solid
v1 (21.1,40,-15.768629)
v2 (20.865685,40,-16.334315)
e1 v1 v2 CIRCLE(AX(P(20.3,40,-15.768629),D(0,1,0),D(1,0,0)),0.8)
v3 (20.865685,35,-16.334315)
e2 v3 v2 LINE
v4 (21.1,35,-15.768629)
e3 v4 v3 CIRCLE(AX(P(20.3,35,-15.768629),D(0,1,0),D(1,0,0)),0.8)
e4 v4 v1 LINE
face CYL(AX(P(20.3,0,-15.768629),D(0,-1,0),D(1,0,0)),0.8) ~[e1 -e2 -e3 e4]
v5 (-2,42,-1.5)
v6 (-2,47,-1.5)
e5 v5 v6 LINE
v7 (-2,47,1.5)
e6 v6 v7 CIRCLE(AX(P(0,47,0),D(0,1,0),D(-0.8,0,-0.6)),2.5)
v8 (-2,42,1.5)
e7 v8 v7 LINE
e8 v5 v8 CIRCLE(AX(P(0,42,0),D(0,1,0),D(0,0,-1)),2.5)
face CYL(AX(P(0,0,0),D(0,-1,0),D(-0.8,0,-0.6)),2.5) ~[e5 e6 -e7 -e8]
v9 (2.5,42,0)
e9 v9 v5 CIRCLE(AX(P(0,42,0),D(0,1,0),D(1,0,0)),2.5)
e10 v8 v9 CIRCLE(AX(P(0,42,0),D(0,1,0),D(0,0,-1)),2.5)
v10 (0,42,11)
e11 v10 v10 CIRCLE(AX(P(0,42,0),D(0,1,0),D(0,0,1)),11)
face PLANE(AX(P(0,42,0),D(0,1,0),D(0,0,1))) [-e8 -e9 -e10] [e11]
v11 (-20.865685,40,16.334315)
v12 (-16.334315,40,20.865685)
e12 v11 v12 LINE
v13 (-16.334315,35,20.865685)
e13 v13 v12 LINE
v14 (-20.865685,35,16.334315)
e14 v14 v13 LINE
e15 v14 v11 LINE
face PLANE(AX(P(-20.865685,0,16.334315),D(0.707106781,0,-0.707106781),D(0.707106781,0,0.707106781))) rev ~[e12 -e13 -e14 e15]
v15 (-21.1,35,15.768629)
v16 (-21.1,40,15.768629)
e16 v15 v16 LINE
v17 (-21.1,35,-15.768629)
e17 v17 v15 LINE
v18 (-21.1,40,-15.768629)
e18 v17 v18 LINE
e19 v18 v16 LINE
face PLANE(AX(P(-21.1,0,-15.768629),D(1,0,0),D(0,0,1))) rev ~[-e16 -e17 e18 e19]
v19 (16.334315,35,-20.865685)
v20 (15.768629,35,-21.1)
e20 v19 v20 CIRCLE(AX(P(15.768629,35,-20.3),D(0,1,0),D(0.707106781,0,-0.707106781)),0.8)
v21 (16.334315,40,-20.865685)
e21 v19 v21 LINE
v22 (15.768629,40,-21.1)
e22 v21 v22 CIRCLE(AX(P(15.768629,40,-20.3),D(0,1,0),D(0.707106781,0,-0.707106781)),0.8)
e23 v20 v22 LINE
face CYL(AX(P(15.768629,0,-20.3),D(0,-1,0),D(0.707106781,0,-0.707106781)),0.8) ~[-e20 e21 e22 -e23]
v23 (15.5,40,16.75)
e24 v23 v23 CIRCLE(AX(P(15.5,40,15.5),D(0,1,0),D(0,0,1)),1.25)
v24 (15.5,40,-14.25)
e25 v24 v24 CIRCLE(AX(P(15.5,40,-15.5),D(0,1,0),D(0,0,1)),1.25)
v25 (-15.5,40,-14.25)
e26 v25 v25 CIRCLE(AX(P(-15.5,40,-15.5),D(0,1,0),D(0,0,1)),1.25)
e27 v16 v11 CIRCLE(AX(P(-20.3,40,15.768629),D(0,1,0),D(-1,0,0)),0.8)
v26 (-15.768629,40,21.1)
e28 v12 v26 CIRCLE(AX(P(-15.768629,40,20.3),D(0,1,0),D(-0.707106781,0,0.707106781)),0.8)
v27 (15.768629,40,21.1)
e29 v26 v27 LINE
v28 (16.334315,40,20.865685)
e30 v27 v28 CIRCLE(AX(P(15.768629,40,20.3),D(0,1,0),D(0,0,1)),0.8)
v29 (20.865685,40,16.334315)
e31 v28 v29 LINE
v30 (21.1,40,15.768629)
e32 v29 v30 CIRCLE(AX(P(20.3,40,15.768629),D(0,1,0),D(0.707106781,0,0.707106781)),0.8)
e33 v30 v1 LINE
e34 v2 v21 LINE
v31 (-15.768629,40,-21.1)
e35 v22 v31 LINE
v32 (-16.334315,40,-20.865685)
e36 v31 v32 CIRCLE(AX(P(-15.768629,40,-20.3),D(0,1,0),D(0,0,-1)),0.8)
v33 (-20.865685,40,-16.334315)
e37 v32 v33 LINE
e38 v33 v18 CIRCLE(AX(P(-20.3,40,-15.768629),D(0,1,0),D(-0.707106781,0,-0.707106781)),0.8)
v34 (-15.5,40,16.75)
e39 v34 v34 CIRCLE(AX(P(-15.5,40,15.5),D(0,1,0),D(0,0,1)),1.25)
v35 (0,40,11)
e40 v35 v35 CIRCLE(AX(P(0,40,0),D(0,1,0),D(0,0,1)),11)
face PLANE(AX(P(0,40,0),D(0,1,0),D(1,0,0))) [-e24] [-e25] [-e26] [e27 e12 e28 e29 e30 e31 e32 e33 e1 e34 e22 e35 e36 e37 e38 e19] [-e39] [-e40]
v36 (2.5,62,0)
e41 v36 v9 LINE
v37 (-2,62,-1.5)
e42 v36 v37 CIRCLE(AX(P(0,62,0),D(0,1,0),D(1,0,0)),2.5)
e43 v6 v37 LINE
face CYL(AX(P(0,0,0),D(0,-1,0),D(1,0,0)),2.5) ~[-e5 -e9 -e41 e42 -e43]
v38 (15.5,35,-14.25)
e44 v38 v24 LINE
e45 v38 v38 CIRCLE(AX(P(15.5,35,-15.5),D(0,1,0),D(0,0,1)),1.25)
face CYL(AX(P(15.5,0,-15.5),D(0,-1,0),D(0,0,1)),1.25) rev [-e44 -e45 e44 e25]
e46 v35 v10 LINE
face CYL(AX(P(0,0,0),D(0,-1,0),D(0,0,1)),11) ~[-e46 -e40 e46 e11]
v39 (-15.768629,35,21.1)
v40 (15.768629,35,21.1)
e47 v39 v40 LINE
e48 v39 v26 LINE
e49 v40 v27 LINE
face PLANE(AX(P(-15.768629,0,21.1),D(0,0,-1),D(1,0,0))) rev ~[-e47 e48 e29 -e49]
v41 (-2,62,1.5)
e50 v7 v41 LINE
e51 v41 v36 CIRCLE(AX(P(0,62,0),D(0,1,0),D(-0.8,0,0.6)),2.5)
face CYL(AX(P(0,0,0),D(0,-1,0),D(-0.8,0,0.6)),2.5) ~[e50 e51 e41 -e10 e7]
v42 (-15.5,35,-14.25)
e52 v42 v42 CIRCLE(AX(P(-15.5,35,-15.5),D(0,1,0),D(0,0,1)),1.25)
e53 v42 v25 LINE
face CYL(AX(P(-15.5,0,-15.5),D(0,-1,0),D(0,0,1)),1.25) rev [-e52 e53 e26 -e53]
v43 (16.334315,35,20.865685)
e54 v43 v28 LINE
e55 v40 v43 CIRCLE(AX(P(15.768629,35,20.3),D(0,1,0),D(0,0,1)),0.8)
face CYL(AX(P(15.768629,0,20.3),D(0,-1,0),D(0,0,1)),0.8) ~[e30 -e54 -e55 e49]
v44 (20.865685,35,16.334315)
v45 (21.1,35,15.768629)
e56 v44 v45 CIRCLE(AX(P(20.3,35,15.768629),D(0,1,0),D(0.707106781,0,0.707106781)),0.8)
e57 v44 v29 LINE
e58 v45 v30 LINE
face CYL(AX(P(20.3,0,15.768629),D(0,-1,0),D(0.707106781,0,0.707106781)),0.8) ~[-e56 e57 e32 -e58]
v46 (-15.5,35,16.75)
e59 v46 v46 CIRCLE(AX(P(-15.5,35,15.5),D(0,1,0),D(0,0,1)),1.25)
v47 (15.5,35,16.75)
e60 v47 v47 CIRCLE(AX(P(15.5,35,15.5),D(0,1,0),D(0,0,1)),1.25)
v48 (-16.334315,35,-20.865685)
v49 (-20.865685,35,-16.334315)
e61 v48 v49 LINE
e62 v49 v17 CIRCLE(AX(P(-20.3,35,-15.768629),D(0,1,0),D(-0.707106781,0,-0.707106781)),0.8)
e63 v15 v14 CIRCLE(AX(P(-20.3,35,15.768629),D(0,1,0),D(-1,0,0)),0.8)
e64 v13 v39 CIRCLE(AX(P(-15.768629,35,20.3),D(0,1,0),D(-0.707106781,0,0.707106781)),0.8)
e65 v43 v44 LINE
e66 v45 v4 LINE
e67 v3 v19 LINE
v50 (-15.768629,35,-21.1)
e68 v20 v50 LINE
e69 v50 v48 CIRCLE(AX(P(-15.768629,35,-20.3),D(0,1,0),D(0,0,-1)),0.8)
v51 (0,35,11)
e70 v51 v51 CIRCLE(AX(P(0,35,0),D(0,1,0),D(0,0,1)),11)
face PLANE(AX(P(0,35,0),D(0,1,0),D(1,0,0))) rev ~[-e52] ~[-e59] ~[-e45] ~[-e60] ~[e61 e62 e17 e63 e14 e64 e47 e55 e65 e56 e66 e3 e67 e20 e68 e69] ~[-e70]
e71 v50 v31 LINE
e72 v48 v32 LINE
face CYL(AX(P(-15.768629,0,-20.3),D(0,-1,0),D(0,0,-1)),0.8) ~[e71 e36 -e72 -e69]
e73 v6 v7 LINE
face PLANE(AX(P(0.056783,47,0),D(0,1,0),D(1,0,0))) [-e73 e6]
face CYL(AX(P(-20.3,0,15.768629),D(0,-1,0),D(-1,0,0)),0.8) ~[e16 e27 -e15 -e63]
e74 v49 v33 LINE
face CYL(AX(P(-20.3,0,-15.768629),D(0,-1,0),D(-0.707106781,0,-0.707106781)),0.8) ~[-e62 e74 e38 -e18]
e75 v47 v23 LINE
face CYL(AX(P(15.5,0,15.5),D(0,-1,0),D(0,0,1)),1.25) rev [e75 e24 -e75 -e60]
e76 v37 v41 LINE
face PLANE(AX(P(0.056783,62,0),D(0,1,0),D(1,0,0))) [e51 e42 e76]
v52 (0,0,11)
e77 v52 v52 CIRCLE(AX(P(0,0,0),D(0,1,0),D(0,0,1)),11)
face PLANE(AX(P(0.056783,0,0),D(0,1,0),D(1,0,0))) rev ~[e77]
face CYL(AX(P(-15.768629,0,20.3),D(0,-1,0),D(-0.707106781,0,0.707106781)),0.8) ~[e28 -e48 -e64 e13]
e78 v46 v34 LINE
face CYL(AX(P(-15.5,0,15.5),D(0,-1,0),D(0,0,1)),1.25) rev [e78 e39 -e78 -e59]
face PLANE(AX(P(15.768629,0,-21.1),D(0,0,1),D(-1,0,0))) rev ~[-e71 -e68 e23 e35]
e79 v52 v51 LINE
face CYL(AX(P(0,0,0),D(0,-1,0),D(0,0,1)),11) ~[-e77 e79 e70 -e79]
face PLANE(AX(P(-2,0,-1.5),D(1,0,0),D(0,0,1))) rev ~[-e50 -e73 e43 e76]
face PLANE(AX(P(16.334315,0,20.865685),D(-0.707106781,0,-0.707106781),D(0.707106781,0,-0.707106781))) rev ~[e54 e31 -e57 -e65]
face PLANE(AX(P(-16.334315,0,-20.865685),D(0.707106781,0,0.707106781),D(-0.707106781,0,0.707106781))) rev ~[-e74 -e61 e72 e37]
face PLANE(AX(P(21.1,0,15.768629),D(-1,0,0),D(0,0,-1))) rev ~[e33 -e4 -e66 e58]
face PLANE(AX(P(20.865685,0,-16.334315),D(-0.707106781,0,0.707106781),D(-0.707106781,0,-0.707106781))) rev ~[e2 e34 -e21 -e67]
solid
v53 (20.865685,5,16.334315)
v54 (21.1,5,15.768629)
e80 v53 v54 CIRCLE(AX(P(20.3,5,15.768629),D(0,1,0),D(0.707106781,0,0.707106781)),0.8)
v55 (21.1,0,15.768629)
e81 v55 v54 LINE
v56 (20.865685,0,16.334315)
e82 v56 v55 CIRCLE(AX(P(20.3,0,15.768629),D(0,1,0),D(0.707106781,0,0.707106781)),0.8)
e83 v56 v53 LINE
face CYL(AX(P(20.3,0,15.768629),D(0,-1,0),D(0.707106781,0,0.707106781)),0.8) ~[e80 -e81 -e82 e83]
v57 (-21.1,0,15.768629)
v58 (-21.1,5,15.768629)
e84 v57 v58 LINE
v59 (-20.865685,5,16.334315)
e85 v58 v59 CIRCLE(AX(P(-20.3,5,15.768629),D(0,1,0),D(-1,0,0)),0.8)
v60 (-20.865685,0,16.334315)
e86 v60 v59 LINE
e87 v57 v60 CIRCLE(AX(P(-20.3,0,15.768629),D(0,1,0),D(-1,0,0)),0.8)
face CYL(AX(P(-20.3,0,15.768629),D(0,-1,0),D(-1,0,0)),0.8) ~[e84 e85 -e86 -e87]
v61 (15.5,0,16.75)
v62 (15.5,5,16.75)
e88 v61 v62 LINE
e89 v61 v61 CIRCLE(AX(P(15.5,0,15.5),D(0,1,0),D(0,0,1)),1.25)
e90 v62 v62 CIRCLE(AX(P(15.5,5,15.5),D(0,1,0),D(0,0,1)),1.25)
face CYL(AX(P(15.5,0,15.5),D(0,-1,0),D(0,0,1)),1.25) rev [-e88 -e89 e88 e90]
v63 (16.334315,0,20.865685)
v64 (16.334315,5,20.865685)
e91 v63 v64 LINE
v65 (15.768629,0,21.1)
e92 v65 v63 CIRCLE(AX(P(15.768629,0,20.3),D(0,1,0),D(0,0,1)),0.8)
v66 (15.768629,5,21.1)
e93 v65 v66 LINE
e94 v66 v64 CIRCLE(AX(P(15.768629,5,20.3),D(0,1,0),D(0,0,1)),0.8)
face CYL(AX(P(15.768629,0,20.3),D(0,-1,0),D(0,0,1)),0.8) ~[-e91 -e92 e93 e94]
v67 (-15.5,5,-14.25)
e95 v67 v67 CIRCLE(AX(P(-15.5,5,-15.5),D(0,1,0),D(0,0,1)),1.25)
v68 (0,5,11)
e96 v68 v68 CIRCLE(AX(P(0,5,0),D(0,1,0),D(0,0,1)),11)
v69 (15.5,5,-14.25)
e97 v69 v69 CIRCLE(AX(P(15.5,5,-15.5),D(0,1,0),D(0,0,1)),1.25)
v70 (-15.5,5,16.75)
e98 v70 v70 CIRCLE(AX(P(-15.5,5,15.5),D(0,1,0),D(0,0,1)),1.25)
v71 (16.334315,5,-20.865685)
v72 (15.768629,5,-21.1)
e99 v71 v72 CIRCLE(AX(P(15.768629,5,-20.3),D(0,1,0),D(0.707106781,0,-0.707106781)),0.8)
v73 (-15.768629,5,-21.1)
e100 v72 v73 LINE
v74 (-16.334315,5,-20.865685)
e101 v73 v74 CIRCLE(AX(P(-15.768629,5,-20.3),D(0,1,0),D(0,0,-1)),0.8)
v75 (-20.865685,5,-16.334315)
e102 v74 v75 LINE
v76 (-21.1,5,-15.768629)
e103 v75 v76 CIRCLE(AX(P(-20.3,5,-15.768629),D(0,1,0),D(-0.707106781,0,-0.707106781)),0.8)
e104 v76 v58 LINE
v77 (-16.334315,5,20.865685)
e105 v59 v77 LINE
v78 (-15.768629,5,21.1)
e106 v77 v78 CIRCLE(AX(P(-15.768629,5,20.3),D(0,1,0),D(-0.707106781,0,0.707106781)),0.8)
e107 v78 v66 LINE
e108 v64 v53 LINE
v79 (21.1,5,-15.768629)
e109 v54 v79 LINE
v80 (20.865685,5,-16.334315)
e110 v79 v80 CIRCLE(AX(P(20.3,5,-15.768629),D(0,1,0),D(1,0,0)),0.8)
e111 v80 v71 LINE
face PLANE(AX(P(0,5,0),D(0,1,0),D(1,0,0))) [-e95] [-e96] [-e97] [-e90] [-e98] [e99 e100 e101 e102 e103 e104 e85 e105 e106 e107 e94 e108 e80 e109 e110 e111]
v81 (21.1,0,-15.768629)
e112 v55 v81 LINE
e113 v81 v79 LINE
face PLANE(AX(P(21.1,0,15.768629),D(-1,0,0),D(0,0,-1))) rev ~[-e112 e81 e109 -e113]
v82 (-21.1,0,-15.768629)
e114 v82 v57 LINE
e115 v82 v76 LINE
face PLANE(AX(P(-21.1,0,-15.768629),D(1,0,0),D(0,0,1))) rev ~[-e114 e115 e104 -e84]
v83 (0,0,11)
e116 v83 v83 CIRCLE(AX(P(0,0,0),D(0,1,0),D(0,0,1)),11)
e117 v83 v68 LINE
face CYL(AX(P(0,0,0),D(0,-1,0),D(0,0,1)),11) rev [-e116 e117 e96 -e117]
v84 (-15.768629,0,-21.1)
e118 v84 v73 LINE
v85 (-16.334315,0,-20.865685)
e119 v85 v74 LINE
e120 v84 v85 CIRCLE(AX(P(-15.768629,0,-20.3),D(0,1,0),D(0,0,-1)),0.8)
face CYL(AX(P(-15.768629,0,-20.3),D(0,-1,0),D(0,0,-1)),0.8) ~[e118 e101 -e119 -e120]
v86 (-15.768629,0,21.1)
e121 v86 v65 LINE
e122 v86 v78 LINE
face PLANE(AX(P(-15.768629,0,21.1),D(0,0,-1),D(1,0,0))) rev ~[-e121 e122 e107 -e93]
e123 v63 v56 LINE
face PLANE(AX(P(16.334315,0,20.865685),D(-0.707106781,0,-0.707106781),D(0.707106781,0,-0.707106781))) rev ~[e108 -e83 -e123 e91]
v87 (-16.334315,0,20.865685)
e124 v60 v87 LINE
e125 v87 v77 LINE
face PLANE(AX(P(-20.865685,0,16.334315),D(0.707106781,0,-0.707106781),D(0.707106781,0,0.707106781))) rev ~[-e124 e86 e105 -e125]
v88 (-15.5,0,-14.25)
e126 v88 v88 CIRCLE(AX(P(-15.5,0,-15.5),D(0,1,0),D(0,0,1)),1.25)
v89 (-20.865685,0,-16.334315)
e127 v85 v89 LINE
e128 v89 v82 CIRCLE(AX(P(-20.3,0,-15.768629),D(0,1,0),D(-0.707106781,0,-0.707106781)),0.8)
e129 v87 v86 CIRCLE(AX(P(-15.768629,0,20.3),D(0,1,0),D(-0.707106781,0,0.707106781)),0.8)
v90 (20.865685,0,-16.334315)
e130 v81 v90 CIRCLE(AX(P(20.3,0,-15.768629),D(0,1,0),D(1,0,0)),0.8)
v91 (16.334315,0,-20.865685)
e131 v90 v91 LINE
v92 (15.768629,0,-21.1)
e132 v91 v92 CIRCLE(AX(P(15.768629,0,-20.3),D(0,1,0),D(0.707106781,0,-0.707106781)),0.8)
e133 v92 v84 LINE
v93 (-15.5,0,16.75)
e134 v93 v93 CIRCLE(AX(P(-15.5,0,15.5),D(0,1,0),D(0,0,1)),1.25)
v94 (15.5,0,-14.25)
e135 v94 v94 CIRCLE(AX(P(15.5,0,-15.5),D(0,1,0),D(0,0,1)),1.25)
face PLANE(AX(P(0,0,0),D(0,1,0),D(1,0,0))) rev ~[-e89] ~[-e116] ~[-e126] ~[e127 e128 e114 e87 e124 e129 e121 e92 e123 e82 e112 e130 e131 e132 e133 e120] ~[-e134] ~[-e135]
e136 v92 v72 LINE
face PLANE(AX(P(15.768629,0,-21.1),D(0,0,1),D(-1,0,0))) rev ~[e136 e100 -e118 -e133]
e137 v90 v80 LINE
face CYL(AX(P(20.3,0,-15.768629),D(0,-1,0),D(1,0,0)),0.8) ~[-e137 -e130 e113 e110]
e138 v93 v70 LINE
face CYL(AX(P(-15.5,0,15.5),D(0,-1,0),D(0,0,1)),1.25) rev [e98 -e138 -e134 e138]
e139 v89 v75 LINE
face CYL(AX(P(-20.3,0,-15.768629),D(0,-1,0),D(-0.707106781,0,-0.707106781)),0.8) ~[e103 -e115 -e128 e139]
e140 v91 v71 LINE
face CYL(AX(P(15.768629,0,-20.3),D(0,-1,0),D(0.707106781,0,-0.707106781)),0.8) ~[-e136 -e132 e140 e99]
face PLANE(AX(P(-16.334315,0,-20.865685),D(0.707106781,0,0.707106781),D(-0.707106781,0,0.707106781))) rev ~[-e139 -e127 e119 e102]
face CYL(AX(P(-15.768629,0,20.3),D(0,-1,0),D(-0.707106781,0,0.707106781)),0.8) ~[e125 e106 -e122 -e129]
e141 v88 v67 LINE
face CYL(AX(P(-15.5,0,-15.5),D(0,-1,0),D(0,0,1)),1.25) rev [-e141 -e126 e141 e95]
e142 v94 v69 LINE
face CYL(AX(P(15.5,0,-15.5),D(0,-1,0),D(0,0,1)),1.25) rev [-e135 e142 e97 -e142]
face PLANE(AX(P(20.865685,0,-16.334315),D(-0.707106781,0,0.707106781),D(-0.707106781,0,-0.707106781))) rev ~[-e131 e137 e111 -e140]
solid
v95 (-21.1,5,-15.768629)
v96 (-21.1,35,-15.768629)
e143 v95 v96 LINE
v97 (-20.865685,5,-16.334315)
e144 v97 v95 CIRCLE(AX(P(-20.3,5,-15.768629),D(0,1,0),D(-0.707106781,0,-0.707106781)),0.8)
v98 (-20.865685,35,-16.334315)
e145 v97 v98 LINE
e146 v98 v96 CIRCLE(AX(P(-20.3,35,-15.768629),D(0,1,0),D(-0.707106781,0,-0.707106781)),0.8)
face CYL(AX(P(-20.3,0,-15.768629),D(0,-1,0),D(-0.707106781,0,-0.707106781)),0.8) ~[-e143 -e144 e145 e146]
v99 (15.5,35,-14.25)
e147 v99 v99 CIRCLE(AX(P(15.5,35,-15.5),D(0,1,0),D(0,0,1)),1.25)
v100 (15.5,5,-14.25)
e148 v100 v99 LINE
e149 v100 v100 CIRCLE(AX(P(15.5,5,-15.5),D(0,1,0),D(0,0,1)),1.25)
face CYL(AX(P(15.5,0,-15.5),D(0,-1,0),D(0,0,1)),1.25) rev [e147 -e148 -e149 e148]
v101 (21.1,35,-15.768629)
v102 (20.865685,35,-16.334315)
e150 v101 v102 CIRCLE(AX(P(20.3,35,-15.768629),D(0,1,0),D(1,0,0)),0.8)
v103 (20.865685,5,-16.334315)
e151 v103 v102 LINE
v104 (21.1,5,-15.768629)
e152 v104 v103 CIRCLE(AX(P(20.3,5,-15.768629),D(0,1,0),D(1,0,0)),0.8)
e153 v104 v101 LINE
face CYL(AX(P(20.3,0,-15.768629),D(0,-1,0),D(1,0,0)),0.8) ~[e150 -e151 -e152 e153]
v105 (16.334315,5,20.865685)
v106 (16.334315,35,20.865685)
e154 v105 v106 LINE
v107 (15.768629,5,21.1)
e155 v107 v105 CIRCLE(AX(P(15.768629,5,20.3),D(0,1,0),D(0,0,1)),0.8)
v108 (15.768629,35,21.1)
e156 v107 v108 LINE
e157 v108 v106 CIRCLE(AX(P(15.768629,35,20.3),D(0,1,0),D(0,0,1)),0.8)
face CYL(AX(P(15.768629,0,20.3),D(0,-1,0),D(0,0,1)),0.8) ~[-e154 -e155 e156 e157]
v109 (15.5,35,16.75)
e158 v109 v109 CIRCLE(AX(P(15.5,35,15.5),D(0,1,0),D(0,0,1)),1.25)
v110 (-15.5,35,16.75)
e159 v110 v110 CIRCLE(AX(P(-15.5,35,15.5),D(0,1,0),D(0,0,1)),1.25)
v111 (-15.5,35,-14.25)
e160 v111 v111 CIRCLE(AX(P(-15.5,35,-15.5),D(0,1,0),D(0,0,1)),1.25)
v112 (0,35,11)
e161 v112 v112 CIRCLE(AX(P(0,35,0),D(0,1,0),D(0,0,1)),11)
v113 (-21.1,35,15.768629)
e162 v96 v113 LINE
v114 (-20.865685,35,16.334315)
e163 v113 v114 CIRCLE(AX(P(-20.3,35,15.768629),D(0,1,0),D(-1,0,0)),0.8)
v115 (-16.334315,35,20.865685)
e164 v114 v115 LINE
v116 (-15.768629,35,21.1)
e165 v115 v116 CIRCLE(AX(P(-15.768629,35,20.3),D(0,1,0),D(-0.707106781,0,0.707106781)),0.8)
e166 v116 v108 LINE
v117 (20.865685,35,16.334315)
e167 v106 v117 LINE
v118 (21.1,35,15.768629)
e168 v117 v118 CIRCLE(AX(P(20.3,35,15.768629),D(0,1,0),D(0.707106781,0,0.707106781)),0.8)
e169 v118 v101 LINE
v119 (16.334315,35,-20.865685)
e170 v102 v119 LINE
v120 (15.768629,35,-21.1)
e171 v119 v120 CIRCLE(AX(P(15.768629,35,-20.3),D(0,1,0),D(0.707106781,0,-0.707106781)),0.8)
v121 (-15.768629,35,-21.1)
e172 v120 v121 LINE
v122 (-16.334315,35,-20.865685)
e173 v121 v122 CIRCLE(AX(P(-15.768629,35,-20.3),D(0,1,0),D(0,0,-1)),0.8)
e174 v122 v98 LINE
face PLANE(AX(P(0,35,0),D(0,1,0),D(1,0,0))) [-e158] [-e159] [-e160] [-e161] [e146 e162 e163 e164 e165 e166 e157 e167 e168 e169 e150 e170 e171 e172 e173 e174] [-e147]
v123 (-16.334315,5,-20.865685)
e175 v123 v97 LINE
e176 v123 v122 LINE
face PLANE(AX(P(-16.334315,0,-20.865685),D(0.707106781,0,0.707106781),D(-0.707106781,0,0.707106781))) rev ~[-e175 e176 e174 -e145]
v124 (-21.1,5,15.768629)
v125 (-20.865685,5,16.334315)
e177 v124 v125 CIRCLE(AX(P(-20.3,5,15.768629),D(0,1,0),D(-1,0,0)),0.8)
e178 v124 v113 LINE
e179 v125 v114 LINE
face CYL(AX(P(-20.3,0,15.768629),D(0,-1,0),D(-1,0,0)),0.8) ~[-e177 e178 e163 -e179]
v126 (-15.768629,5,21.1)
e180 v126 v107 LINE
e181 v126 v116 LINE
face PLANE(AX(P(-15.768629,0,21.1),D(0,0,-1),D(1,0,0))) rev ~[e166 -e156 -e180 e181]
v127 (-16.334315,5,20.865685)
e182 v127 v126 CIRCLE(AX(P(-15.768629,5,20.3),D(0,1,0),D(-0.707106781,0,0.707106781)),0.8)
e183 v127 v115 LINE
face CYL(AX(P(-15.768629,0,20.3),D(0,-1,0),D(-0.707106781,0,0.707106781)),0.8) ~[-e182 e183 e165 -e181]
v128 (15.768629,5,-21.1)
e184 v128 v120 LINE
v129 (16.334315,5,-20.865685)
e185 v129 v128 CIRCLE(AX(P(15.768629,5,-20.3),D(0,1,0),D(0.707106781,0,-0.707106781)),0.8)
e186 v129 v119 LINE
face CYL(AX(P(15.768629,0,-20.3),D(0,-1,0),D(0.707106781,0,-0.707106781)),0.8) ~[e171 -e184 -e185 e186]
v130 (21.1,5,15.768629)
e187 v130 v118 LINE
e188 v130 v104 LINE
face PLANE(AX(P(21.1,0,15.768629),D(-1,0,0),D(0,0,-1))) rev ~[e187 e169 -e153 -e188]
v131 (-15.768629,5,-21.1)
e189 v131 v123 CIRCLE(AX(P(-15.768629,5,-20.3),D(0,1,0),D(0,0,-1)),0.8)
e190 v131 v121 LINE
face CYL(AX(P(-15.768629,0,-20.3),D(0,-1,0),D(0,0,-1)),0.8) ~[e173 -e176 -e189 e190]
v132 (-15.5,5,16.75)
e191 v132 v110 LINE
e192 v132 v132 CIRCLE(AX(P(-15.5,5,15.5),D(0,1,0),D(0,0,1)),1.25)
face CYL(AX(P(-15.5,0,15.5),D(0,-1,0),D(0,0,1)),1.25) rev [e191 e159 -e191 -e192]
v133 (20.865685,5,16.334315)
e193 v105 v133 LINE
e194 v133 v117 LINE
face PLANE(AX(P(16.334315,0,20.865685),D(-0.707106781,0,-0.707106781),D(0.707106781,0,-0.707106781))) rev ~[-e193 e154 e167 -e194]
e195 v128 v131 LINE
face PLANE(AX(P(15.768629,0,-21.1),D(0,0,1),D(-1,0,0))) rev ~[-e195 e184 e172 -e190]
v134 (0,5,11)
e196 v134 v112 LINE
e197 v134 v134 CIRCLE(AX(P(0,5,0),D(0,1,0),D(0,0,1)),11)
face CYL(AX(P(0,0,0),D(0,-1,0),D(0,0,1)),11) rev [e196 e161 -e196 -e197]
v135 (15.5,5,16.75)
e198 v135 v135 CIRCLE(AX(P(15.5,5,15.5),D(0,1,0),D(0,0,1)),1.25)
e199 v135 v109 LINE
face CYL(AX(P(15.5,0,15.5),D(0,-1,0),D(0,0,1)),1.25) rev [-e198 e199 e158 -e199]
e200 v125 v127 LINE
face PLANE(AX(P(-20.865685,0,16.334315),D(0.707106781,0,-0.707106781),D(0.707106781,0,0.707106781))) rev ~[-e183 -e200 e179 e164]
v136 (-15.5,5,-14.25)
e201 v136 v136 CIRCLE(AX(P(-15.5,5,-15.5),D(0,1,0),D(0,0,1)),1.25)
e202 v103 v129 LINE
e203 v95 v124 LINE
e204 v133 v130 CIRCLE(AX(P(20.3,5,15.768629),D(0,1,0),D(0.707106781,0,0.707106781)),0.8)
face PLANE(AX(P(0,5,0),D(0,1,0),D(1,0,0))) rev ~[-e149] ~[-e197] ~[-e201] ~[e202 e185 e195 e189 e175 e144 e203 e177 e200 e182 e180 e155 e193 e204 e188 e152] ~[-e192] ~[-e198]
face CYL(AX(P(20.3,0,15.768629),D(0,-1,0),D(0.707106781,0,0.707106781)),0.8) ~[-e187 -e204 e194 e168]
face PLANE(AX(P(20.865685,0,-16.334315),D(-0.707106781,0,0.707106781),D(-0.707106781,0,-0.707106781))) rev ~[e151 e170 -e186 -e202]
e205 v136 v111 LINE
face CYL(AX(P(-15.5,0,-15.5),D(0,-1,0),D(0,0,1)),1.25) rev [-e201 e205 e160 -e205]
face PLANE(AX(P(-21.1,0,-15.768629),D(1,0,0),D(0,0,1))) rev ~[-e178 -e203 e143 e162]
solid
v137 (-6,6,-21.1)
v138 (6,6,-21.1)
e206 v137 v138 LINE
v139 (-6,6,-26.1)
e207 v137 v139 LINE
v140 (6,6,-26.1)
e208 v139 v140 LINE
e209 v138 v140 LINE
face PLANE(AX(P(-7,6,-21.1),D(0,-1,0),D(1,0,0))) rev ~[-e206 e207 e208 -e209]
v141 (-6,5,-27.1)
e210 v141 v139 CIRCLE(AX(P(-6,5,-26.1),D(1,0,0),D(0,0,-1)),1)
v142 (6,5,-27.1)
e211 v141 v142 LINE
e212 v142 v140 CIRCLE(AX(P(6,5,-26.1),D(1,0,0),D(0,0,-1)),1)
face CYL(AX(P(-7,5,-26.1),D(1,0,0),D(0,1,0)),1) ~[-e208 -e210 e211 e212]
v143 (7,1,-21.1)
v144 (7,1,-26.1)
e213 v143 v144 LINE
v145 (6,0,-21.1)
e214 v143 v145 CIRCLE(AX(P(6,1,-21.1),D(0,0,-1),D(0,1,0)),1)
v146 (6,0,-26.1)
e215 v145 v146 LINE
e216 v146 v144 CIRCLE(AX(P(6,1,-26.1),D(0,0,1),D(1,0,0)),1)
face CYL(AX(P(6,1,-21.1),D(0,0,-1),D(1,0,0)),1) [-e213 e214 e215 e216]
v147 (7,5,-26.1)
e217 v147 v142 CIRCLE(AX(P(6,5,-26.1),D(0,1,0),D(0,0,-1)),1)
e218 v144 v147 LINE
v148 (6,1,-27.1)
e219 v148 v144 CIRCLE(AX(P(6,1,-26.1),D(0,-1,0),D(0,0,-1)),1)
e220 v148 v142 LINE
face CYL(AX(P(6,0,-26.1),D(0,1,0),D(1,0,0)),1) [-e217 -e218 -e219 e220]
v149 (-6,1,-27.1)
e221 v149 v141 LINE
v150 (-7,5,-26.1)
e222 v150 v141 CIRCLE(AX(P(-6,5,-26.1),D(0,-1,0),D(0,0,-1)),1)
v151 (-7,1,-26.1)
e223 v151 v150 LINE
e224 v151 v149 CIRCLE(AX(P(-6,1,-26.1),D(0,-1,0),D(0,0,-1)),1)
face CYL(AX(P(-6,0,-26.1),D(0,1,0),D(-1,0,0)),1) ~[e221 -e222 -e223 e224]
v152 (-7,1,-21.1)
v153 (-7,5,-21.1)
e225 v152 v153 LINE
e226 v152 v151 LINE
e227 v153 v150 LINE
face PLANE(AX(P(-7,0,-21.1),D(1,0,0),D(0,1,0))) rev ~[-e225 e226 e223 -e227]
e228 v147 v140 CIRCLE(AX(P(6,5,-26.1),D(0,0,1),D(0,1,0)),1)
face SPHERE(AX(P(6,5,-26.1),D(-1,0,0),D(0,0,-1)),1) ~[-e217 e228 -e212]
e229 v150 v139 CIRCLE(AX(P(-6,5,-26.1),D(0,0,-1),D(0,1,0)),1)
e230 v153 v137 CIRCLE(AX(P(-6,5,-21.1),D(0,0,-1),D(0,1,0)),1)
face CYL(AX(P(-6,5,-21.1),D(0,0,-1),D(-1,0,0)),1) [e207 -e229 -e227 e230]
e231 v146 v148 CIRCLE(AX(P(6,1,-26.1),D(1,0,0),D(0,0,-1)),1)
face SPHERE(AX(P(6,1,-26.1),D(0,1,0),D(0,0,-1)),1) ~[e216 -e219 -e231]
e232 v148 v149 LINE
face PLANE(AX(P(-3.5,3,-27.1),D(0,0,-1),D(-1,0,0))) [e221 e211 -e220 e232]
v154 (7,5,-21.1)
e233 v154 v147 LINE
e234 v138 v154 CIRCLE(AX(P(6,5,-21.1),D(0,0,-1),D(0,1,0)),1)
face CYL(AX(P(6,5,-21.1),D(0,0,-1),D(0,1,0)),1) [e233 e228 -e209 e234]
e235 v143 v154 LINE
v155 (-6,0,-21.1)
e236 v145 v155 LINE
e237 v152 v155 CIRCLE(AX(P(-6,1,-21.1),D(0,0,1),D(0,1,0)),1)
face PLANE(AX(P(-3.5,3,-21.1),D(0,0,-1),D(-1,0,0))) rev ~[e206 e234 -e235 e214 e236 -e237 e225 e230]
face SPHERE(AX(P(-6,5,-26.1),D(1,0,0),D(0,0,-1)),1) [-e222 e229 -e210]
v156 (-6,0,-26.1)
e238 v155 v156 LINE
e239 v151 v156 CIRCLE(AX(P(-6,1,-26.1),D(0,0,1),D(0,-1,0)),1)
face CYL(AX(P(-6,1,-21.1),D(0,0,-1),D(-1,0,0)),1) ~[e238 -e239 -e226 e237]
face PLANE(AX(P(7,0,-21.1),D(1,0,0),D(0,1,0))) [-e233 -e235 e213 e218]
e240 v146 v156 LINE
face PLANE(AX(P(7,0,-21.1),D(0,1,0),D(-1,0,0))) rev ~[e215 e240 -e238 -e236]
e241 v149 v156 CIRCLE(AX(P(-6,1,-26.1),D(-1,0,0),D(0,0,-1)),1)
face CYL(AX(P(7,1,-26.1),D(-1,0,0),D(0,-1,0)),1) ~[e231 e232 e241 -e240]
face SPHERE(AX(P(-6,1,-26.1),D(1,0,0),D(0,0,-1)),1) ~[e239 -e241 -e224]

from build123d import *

# Parameters (mm, degrees)
SKETCH_1_R          = 1.25
SKETCH_1_R_2        = 11
EXTRUDE_1_DEPTH     = 40
SKETCH_1_6_R        = 1.25
SKETCH_1_6_R_2      = 11
CUT_EXTRUDE_1_DEPTH = 35
SKETCH_1_7_R        = 1.25
SKETCH_1_7_R_2      = 11
EXTRUDE_6_DEPTH     = 35
SKETCH_1_8_R        = 1.25
SKETCH_1_8_R_2      = 11
CUT_EXTRUDE_2_DEPTH = 5
SKETCH_1_9_R        = 1.25
SKETCH_1_9_R_2      = 11
EXTRUDE_7_DEPTH     = 5
SKETCH_1_3_R        = 11
EXTRUDE_2_DEPTH     = 42
EXTRUDE_3_DEPTH     = 62
EXTRUDE_4_DEPTH     = 47
SKETCH_2_W          = 14
SKETCH_2_H          = 6
EXTRUDE_5_DEPTH     = 6
FILLET_1_R          = 1


with BuildPart() as part:
    # 草图1 → 凸台-拉伸1 (new body)
    with BuildSketch(Plane(origin=(0, 0, 0), x_dir=(1, 0, 0), z_dir=(0, 1, 0))):
        with BuildLine():
            ThreePointArc((-16.334314575, -20.865685425), (-16.074775896, -21.039103626), (-15.76862915, -21.1))
            Line((-15.76862915, -21.1), (15.76862915, -21.1))
            ThreePointArc((15.76862915, -21.1), (16.074775896, -21.039103626), (16.334314575, -20.865685425))
            Line((16.334314575, -20.865685425), (20.865685425, -16.334314575))
            ThreePointArc((20.865685425, -16.334314575), (21.039103626, -16.074775896), (21.1, -15.76862915))
            Line((21.1, -15.76862915), (21.1, 15.76862915))
            ThreePointArc((21.1, 15.76862915), (21.039103626, 16.074775896), (20.865685425, 16.334314575))
            Line((20.865685425, 16.334314575), (16.334314575, 20.865685425))
            ThreePointArc((16.334314575, 20.865685425), (16.074775896, 21.039103626), (15.76862915, 21.1))
            Line((15.76862915, 21.1), (-15.76862915, 21.1))
            ThreePointArc((-15.76862915, 21.1), (-16.074775896, 21.039103626), (-16.334314575, 20.865685425))
            Line((-16.334314575, 20.865685425), (-20.865685425, 16.334314575))
            ThreePointArc((-20.865685425, 16.334314575), (-21.039103626, 16.074775896), (-21.1, 15.76862915))
            Line((-21.1, 15.76862915), (-21.1, -15.76862915))
            ThreePointArc((-21.1, -15.76862915), (-21.039103626, -16.074775896), (-20.865685425, -16.334314575))
            Line((-20.865685425, -16.334314575), (-16.334314575, -20.865685425))
        make_face()
        with Locations((-15.5, -15.5)):
            Circle(SKETCH_1_R, mode=Mode.SUBTRACT)
        with Locations((15.5, -15.5)):
            Circle(SKETCH_1_R, mode=Mode.SUBTRACT)
        with Locations((-15.5, 15.5)):
            Circle(SKETCH_1_R, mode=Mode.SUBTRACT)
        Circle(SKETCH_1_R_2, mode=Mode.SUBTRACT)
        with Locations((15.5, 15.5)):
            Circle(SKETCH_1_R, mode=Mode.SUBTRACT)
    extrude(amount=EXTRUDE_1_DEPTH)

    # 草图1<6> → 切除-拉伸1 (cut)
    with BuildSketch(Plane(origin=(0, 0, 0), x_dir=(1, 0, 0), z_dir=(0, 1, 0))):
        with BuildLine():
            ThreePointArc((-16.334314575, -20.865685425), (-16.074775896, -21.039103626), (-15.76862915, -21.1))
            Line((-15.76862915, -21.1), (15.76862915, -21.1))
            ThreePointArc((15.76862915, -21.1), (16.074775896, -21.039103626), (16.334314575, -20.865685425))
            Line((16.334314575, -20.865685425), (20.865685425, -16.334314575))
            ThreePointArc((20.865685425, -16.334314575), (21.039103626, -16.074775896), (21.1, -15.76862915))
            Line((21.1, -15.76862915), (21.1, 15.76862915))
            ThreePointArc((21.1, 15.76862915), (21.039103626, 16.074775896), (20.865685425, 16.334314575))
            Line((20.865685425, 16.334314575), (16.334314575, 20.865685425))
            ThreePointArc((16.334314575, 20.865685425), (16.074775896, 21.039103626), (15.76862915, 21.1))
            Line((15.76862915, 21.1), (-15.76862915, 21.1))
            ThreePointArc((-15.76862915, 21.1), (-16.074775896, 21.039103626), (-16.334314575, 20.865685425))
            Line((-16.334314575, 20.865685425), (-20.865685425, 16.334314575))
            ThreePointArc((-20.865685425, 16.334314575), (-21.039103626, 16.074775896), (-21.1, 15.76862915))
            Line((-21.1, 15.76862915), (-21.1, -15.76862915))
            ThreePointArc((-21.1, -15.76862915), (-21.039103626, -16.074775896), (-20.865685425, -16.334314575))
            Line((-20.865685425, -16.334314575), (-16.334314575, -20.865685425))
        make_face()
        with Locations((-15.5, -15.5)):
            Circle(SKETCH_1_6_R, mode=Mode.SUBTRACT)
        with Locations((15.5, -15.5)):
            Circle(SKETCH_1_6_R, mode=Mode.SUBTRACT)
        with Locations((-15.5, 15.5)):
            Circle(SKETCH_1_6_R, mode=Mode.SUBTRACT)
        Circle(SKETCH_1_6_R_2, mode=Mode.SUBTRACT)
        with Locations((15.5, 15.5)):
            Circle(SKETCH_1_6_R, mode=Mode.SUBTRACT)
    extrude(amount=CUT_EXTRUDE_1_DEPTH, mode=Mode.SUBTRACT)

    # 草图1<3> → 凸台-拉伸2 (add)
    with BuildSketch(Plane(origin=(0, 0, 0), x_dir=(1, 0, 0), z_dir=(0, 1, 0))):
        Circle(SKETCH_1_3_R)
        with BuildLine():
            ThreePointArc((-2, -1.5), (-2.5, 0), (-2, 1.5))
            ThreePointArc((-2, 1.5), (0.790569415, 2.371708245), (2.5, 0))
            ThreePointArc((2.5, 0), (0.790569415, -2.371708245), (-2, -1.5))
        make_face(mode=Mode.SUBTRACT)
    extrude(amount=EXTRUDE_2_DEPTH)

    # 草图1<4> → 凸台-拉伸3 (add)
    with BuildSketch(Plane(origin=(0, 0, 0), x_dir=(1, 0, 0), z_dir=(0, 1, 0))):
        with BuildLine():
            ThreePointArc((2.5, 0), (0.790569415, 2.371708245), (-2, 1.5))
            Line((-2, 1.5), (-2, -1.5))
            ThreePointArc((-2, -1.5), (0.790569415, -2.371708245), (2.5, 0))
        make_face()
    extrude(amount=EXTRUDE_3_DEPTH)

    # 草图1<5> → 凸台-拉伸4 (add)
    with BuildSketch(Plane(origin=(0, 0, 0), x_dir=(1, 0, 0), z_dir=(0, 1, 0))):
        with BuildLine():
            Line((-2, -1.5), (-2, 1.5))
            ThreePointArc((-2, 1.5), (-2.5, 0), (-2, -1.5))
        make_face()
    extrude(amount=EXTRUDE_4_DEPTH)


with BuildPart() as body_2:
    # 草图1<7> → 凸台-拉伸6 (new body)
    with BuildSketch(Plane(origin=(0, 0, 0), x_dir=(1, 0, 0), z_dir=(0, 1, 0))):
        with BuildLine():
            ThreePointArc((-16.334314575, -20.865685425), (-16.074775896, -21.039103626), (-15.76862915, -21.1))
            Line((-15.76862915, -21.1), (15.76862915, -21.1))
            ThreePointArc((15.76862915, -21.1), (16.074775896, -21.039103626), (16.334314575, -20.865685425))
            Line((16.334314575, -20.865685425), (20.865685425, -16.334314575))
            ThreePointArc((20.865685425, -16.334314575), (21.039103626, -16.074775896), (21.1, -15.76862915))
            Line((21.1, -15.76862915), (21.1, 15.76862915))
            ThreePointArc((21.1, 15.76862915), (21.039103626, 16.074775896), (20.865685425, 16.334314575))
            Line((20.865685425, 16.334314575), (16.334314575, 20.865685425))
            ThreePointArc((16.334314575, 20.865685425), (16.074775896, 21.039103626), (15.76862915, 21.1))
            Line((15.76862915, 21.1), (-15.76862915, 21.1))
            ThreePointArc((-15.76862915, 21.1), (-16.074775896, 21.039103626), (-16.334314575, 20.865685425))
            Line((-16.334314575, 20.865685425), (-20.865685425, 16.334314575))
            ThreePointArc((-20.865685425, 16.334314575), (-21.039103626, 16.074775896), (-21.1, 15.76862915))
            Line((-21.1, 15.76862915), (-21.1, -15.76862915))
            ThreePointArc((-21.1, -15.76862915), (-21.039103626, -16.074775896), (-20.865685425, -16.334314575))
            Line((-20.865685425, -16.334314575), (-16.334314575, -20.865685425))
        make_face()
        with Locations((-15.5, -15.5)):
            Circle(SKETCH_1_7_R, mode=Mode.SUBTRACT)
        with Locations((15.5, -15.5)):
            Circle(SKETCH_1_7_R, mode=Mode.SUBTRACT)
        with Locations((-15.5, 15.5)):
            Circle(SKETCH_1_7_R, mode=Mode.SUBTRACT)
        Circle(SKETCH_1_7_R_2, mode=Mode.SUBTRACT)
        with Locations((15.5, 15.5)):
            Circle(SKETCH_1_7_R, mode=Mode.SUBTRACT)
    extrude(amount=EXTRUDE_6_DEPTH)

    # 草图1<8> → 切除-拉伸2 (cut)
    with BuildSketch(Plane(origin=(0, 0, 0), x_dir=(1, 0, 0), z_dir=(0, 1, 0))):
        with BuildLine():
            ThreePointArc((-16.334314575, -20.865685425), (-16.074775896, -21.039103626), (-15.76862915, -21.1))
            Line((-15.76862915, -21.1), (15.76862915, -21.1))
            ThreePointArc((15.76862915, -21.1), (16.074775896, -21.039103626), (16.334314575, -20.865685425))
            Line((16.334314575, -20.865685425), (20.865685425, -16.334314575))
            ThreePointArc((20.865685425, -16.334314575), (21.039103626, -16.074775896), (21.1, -15.76862915))
            Line((21.1, -15.76862915), (21.1, 15.76862915))
            ThreePointArc((21.1, 15.76862915), (21.039103626, 16.074775896), (20.865685425, 16.334314575))
            Line((20.865685425, 16.334314575), (16.334314575, 20.865685425))
            ThreePointArc((16.334314575, 20.865685425), (16.074775896, 21.039103626), (15.76862915, 21.1))
            Line((15.76862915, 21.1), (-15.76862915, 21.1))
            ThreePointArc((-15.76862915, 21.1), (-16.074775896, 21.039103626), (-16.334314575, 20.865685425))
            Line((-16.334314575, 20.865685425), (-20.865685425, 16.334314575))
            ThreePointArc((-20.865685425, 16.334314575), (-21.039103626, 16.074775896), (-21.1, 15.76862915))
            Line((-21.1, 15.76862915), (-21.1, -15.76862915))
            ThreePointArc((-21.1, -15.76862915), (-21.039103626, -16.074775896), (-20.865685425, -16.334314575))
            Line((-20.865685425, -16.334314575), (-16.334314575, -20.865685425))
        make_face()
        with Locations((-15.5, -15.5)):
            Circle(SKETCH_1_8_R, mode=Mode.SUBTRACT)
        with Locations((15.5, -15.5)):
            Circle(SKETCH_1_8_R, mode=Mode.SUBTRACT)
        with Locations((-15.5, 15.5)):
            Circle(SKETCH_1_8_R, mode=Mode.SUBTRACT)
        Circle(SKETCH_1_8_R_2, mode=Mode.SUBTRACT)
        with Locations((15.5, 15.5)):
            Circle(SKETCH_1_8_R, mode=Mode.SUBTRACT)
    extrude(amount=CUT_EXTRUDE_2_DEPTH, mode=Mode.SUBTRACT)


with BuildPart() as body_3:
    # 草图1<9> → 凸台-拉伸7 (new body)
    with BuildSketch(Plane(origin=(0, 0, 0), x_dir=(1, 0, 0), z_dir=(0, 1, 0))):
        with BuildLine():
            ThreePointArc((-16.334314575, -20.865685425), (-16.074775896, -21.039103626), (-15.76862915, -21.1))
            Line((-15.76862915, -21.1), (15.76862915, -21.1))
            ThreePointArc((15.76862915, -21.1), (16.074775896, -21.039103626), (16.334314575, -20.865685425))
            Line((16.334314575, -20.865685425), (20.865685425, -16.334314575))
            ThreePointArc((20.865685425, -16.334314575), (21.039103626, -16.074775896), (21.1, -15.76862915))
            Line((21.1, -15.76862915), (21.1, 15.76862915))
            ThreePointArc((21.1, 15.76862915), (21.039103626, 16.074775896), (20.865685425, 16.334314575))
            Line((20.865685425, 16.334314575), (16.334314575, 20.865685425))
            ThreePointArc((16.334314575, 20.865685425), (16.074775896, 21.039103626), (15.76862915, 21.1))
            Line((15.76862915, 21.1), (-15.76862915, 21.1))
            ThreePointArc((-15.76862915, 21.1), (-16.074775896, 21.039103626), (-16.334314575, 20.865685425))
            Line((-16.334314575, 20.865685425), (-20.865685425, 16.334314575))
            ThreePointArc((-20.865685425, 16.334314575), (-21.039103626, 16.074775896), (-21.1, 15.76862915))
            Line((-21.1, 15.76862915), (-21.1, -15.76862915))
            ThreePointArc((-21.1, -15.76862915), (-21.039103626, -16.074775896), (-20.865685425, -16.334314575))
            Line((-20.865685425, -16.334314575), (-16.334314575, -20.865685425))
        make_face()
        with Locations((-15.5, -15.5)):
            Circle(SKETCH_1_9_R, mode=Mode.SUBTRACT)
        with Locations((15.5, -15.5)):
            Circle(SKETCH_1_9_R, mode=Mode.SUBTRACT)
        with Locations((-15.5, 15.5)):
            Circle(SKETCH_1_9_R, mode=Mode.SUBTRACT)
        Circle(SKETCH_1_9_R_2, mode=Mode.SUBTRACT)
        with Locations((15.5, 15.5)):
            Circle(SKETCH_1_9_R, mode=Mode.SUBTRACT)
    extrude(amount=EXTRUDE_7_DEPTH)


with BuildPart() as body_4:
    # 草图2 → 凸台-拉伸5 (new body)
    with BuildSketch(Plane(origin=(0, 0, -21.1), x_dir=(-1, 0, 0), z_dir=(0, 0, -1))):
        with Locations((0, 3)):
            Rectangle(SKETCH_2_W, SKETCH_2_H)
    extrude(amount=EXTRUDE_5_DEPTH)

    # 圆角1
    fillet_1_edges = [body_4.edges().sort_by_distance(p)[0] for p in [
        (0, 0, -27.1),
        (7, 3, -27.1),
        (0, 6, -27.1),
        (-7, 3, -27.1),
        (-7, 0, -24.1),
        (-7, 6, -24.1),
        (7, 0, -24.1),
        (7, 6, -24.1),
    ]]
    fillet(fillet_1_edges, radius=FILLET_1_R)


solid = Compound([part.part, body_2.part, body_3.part, body_4.part])
